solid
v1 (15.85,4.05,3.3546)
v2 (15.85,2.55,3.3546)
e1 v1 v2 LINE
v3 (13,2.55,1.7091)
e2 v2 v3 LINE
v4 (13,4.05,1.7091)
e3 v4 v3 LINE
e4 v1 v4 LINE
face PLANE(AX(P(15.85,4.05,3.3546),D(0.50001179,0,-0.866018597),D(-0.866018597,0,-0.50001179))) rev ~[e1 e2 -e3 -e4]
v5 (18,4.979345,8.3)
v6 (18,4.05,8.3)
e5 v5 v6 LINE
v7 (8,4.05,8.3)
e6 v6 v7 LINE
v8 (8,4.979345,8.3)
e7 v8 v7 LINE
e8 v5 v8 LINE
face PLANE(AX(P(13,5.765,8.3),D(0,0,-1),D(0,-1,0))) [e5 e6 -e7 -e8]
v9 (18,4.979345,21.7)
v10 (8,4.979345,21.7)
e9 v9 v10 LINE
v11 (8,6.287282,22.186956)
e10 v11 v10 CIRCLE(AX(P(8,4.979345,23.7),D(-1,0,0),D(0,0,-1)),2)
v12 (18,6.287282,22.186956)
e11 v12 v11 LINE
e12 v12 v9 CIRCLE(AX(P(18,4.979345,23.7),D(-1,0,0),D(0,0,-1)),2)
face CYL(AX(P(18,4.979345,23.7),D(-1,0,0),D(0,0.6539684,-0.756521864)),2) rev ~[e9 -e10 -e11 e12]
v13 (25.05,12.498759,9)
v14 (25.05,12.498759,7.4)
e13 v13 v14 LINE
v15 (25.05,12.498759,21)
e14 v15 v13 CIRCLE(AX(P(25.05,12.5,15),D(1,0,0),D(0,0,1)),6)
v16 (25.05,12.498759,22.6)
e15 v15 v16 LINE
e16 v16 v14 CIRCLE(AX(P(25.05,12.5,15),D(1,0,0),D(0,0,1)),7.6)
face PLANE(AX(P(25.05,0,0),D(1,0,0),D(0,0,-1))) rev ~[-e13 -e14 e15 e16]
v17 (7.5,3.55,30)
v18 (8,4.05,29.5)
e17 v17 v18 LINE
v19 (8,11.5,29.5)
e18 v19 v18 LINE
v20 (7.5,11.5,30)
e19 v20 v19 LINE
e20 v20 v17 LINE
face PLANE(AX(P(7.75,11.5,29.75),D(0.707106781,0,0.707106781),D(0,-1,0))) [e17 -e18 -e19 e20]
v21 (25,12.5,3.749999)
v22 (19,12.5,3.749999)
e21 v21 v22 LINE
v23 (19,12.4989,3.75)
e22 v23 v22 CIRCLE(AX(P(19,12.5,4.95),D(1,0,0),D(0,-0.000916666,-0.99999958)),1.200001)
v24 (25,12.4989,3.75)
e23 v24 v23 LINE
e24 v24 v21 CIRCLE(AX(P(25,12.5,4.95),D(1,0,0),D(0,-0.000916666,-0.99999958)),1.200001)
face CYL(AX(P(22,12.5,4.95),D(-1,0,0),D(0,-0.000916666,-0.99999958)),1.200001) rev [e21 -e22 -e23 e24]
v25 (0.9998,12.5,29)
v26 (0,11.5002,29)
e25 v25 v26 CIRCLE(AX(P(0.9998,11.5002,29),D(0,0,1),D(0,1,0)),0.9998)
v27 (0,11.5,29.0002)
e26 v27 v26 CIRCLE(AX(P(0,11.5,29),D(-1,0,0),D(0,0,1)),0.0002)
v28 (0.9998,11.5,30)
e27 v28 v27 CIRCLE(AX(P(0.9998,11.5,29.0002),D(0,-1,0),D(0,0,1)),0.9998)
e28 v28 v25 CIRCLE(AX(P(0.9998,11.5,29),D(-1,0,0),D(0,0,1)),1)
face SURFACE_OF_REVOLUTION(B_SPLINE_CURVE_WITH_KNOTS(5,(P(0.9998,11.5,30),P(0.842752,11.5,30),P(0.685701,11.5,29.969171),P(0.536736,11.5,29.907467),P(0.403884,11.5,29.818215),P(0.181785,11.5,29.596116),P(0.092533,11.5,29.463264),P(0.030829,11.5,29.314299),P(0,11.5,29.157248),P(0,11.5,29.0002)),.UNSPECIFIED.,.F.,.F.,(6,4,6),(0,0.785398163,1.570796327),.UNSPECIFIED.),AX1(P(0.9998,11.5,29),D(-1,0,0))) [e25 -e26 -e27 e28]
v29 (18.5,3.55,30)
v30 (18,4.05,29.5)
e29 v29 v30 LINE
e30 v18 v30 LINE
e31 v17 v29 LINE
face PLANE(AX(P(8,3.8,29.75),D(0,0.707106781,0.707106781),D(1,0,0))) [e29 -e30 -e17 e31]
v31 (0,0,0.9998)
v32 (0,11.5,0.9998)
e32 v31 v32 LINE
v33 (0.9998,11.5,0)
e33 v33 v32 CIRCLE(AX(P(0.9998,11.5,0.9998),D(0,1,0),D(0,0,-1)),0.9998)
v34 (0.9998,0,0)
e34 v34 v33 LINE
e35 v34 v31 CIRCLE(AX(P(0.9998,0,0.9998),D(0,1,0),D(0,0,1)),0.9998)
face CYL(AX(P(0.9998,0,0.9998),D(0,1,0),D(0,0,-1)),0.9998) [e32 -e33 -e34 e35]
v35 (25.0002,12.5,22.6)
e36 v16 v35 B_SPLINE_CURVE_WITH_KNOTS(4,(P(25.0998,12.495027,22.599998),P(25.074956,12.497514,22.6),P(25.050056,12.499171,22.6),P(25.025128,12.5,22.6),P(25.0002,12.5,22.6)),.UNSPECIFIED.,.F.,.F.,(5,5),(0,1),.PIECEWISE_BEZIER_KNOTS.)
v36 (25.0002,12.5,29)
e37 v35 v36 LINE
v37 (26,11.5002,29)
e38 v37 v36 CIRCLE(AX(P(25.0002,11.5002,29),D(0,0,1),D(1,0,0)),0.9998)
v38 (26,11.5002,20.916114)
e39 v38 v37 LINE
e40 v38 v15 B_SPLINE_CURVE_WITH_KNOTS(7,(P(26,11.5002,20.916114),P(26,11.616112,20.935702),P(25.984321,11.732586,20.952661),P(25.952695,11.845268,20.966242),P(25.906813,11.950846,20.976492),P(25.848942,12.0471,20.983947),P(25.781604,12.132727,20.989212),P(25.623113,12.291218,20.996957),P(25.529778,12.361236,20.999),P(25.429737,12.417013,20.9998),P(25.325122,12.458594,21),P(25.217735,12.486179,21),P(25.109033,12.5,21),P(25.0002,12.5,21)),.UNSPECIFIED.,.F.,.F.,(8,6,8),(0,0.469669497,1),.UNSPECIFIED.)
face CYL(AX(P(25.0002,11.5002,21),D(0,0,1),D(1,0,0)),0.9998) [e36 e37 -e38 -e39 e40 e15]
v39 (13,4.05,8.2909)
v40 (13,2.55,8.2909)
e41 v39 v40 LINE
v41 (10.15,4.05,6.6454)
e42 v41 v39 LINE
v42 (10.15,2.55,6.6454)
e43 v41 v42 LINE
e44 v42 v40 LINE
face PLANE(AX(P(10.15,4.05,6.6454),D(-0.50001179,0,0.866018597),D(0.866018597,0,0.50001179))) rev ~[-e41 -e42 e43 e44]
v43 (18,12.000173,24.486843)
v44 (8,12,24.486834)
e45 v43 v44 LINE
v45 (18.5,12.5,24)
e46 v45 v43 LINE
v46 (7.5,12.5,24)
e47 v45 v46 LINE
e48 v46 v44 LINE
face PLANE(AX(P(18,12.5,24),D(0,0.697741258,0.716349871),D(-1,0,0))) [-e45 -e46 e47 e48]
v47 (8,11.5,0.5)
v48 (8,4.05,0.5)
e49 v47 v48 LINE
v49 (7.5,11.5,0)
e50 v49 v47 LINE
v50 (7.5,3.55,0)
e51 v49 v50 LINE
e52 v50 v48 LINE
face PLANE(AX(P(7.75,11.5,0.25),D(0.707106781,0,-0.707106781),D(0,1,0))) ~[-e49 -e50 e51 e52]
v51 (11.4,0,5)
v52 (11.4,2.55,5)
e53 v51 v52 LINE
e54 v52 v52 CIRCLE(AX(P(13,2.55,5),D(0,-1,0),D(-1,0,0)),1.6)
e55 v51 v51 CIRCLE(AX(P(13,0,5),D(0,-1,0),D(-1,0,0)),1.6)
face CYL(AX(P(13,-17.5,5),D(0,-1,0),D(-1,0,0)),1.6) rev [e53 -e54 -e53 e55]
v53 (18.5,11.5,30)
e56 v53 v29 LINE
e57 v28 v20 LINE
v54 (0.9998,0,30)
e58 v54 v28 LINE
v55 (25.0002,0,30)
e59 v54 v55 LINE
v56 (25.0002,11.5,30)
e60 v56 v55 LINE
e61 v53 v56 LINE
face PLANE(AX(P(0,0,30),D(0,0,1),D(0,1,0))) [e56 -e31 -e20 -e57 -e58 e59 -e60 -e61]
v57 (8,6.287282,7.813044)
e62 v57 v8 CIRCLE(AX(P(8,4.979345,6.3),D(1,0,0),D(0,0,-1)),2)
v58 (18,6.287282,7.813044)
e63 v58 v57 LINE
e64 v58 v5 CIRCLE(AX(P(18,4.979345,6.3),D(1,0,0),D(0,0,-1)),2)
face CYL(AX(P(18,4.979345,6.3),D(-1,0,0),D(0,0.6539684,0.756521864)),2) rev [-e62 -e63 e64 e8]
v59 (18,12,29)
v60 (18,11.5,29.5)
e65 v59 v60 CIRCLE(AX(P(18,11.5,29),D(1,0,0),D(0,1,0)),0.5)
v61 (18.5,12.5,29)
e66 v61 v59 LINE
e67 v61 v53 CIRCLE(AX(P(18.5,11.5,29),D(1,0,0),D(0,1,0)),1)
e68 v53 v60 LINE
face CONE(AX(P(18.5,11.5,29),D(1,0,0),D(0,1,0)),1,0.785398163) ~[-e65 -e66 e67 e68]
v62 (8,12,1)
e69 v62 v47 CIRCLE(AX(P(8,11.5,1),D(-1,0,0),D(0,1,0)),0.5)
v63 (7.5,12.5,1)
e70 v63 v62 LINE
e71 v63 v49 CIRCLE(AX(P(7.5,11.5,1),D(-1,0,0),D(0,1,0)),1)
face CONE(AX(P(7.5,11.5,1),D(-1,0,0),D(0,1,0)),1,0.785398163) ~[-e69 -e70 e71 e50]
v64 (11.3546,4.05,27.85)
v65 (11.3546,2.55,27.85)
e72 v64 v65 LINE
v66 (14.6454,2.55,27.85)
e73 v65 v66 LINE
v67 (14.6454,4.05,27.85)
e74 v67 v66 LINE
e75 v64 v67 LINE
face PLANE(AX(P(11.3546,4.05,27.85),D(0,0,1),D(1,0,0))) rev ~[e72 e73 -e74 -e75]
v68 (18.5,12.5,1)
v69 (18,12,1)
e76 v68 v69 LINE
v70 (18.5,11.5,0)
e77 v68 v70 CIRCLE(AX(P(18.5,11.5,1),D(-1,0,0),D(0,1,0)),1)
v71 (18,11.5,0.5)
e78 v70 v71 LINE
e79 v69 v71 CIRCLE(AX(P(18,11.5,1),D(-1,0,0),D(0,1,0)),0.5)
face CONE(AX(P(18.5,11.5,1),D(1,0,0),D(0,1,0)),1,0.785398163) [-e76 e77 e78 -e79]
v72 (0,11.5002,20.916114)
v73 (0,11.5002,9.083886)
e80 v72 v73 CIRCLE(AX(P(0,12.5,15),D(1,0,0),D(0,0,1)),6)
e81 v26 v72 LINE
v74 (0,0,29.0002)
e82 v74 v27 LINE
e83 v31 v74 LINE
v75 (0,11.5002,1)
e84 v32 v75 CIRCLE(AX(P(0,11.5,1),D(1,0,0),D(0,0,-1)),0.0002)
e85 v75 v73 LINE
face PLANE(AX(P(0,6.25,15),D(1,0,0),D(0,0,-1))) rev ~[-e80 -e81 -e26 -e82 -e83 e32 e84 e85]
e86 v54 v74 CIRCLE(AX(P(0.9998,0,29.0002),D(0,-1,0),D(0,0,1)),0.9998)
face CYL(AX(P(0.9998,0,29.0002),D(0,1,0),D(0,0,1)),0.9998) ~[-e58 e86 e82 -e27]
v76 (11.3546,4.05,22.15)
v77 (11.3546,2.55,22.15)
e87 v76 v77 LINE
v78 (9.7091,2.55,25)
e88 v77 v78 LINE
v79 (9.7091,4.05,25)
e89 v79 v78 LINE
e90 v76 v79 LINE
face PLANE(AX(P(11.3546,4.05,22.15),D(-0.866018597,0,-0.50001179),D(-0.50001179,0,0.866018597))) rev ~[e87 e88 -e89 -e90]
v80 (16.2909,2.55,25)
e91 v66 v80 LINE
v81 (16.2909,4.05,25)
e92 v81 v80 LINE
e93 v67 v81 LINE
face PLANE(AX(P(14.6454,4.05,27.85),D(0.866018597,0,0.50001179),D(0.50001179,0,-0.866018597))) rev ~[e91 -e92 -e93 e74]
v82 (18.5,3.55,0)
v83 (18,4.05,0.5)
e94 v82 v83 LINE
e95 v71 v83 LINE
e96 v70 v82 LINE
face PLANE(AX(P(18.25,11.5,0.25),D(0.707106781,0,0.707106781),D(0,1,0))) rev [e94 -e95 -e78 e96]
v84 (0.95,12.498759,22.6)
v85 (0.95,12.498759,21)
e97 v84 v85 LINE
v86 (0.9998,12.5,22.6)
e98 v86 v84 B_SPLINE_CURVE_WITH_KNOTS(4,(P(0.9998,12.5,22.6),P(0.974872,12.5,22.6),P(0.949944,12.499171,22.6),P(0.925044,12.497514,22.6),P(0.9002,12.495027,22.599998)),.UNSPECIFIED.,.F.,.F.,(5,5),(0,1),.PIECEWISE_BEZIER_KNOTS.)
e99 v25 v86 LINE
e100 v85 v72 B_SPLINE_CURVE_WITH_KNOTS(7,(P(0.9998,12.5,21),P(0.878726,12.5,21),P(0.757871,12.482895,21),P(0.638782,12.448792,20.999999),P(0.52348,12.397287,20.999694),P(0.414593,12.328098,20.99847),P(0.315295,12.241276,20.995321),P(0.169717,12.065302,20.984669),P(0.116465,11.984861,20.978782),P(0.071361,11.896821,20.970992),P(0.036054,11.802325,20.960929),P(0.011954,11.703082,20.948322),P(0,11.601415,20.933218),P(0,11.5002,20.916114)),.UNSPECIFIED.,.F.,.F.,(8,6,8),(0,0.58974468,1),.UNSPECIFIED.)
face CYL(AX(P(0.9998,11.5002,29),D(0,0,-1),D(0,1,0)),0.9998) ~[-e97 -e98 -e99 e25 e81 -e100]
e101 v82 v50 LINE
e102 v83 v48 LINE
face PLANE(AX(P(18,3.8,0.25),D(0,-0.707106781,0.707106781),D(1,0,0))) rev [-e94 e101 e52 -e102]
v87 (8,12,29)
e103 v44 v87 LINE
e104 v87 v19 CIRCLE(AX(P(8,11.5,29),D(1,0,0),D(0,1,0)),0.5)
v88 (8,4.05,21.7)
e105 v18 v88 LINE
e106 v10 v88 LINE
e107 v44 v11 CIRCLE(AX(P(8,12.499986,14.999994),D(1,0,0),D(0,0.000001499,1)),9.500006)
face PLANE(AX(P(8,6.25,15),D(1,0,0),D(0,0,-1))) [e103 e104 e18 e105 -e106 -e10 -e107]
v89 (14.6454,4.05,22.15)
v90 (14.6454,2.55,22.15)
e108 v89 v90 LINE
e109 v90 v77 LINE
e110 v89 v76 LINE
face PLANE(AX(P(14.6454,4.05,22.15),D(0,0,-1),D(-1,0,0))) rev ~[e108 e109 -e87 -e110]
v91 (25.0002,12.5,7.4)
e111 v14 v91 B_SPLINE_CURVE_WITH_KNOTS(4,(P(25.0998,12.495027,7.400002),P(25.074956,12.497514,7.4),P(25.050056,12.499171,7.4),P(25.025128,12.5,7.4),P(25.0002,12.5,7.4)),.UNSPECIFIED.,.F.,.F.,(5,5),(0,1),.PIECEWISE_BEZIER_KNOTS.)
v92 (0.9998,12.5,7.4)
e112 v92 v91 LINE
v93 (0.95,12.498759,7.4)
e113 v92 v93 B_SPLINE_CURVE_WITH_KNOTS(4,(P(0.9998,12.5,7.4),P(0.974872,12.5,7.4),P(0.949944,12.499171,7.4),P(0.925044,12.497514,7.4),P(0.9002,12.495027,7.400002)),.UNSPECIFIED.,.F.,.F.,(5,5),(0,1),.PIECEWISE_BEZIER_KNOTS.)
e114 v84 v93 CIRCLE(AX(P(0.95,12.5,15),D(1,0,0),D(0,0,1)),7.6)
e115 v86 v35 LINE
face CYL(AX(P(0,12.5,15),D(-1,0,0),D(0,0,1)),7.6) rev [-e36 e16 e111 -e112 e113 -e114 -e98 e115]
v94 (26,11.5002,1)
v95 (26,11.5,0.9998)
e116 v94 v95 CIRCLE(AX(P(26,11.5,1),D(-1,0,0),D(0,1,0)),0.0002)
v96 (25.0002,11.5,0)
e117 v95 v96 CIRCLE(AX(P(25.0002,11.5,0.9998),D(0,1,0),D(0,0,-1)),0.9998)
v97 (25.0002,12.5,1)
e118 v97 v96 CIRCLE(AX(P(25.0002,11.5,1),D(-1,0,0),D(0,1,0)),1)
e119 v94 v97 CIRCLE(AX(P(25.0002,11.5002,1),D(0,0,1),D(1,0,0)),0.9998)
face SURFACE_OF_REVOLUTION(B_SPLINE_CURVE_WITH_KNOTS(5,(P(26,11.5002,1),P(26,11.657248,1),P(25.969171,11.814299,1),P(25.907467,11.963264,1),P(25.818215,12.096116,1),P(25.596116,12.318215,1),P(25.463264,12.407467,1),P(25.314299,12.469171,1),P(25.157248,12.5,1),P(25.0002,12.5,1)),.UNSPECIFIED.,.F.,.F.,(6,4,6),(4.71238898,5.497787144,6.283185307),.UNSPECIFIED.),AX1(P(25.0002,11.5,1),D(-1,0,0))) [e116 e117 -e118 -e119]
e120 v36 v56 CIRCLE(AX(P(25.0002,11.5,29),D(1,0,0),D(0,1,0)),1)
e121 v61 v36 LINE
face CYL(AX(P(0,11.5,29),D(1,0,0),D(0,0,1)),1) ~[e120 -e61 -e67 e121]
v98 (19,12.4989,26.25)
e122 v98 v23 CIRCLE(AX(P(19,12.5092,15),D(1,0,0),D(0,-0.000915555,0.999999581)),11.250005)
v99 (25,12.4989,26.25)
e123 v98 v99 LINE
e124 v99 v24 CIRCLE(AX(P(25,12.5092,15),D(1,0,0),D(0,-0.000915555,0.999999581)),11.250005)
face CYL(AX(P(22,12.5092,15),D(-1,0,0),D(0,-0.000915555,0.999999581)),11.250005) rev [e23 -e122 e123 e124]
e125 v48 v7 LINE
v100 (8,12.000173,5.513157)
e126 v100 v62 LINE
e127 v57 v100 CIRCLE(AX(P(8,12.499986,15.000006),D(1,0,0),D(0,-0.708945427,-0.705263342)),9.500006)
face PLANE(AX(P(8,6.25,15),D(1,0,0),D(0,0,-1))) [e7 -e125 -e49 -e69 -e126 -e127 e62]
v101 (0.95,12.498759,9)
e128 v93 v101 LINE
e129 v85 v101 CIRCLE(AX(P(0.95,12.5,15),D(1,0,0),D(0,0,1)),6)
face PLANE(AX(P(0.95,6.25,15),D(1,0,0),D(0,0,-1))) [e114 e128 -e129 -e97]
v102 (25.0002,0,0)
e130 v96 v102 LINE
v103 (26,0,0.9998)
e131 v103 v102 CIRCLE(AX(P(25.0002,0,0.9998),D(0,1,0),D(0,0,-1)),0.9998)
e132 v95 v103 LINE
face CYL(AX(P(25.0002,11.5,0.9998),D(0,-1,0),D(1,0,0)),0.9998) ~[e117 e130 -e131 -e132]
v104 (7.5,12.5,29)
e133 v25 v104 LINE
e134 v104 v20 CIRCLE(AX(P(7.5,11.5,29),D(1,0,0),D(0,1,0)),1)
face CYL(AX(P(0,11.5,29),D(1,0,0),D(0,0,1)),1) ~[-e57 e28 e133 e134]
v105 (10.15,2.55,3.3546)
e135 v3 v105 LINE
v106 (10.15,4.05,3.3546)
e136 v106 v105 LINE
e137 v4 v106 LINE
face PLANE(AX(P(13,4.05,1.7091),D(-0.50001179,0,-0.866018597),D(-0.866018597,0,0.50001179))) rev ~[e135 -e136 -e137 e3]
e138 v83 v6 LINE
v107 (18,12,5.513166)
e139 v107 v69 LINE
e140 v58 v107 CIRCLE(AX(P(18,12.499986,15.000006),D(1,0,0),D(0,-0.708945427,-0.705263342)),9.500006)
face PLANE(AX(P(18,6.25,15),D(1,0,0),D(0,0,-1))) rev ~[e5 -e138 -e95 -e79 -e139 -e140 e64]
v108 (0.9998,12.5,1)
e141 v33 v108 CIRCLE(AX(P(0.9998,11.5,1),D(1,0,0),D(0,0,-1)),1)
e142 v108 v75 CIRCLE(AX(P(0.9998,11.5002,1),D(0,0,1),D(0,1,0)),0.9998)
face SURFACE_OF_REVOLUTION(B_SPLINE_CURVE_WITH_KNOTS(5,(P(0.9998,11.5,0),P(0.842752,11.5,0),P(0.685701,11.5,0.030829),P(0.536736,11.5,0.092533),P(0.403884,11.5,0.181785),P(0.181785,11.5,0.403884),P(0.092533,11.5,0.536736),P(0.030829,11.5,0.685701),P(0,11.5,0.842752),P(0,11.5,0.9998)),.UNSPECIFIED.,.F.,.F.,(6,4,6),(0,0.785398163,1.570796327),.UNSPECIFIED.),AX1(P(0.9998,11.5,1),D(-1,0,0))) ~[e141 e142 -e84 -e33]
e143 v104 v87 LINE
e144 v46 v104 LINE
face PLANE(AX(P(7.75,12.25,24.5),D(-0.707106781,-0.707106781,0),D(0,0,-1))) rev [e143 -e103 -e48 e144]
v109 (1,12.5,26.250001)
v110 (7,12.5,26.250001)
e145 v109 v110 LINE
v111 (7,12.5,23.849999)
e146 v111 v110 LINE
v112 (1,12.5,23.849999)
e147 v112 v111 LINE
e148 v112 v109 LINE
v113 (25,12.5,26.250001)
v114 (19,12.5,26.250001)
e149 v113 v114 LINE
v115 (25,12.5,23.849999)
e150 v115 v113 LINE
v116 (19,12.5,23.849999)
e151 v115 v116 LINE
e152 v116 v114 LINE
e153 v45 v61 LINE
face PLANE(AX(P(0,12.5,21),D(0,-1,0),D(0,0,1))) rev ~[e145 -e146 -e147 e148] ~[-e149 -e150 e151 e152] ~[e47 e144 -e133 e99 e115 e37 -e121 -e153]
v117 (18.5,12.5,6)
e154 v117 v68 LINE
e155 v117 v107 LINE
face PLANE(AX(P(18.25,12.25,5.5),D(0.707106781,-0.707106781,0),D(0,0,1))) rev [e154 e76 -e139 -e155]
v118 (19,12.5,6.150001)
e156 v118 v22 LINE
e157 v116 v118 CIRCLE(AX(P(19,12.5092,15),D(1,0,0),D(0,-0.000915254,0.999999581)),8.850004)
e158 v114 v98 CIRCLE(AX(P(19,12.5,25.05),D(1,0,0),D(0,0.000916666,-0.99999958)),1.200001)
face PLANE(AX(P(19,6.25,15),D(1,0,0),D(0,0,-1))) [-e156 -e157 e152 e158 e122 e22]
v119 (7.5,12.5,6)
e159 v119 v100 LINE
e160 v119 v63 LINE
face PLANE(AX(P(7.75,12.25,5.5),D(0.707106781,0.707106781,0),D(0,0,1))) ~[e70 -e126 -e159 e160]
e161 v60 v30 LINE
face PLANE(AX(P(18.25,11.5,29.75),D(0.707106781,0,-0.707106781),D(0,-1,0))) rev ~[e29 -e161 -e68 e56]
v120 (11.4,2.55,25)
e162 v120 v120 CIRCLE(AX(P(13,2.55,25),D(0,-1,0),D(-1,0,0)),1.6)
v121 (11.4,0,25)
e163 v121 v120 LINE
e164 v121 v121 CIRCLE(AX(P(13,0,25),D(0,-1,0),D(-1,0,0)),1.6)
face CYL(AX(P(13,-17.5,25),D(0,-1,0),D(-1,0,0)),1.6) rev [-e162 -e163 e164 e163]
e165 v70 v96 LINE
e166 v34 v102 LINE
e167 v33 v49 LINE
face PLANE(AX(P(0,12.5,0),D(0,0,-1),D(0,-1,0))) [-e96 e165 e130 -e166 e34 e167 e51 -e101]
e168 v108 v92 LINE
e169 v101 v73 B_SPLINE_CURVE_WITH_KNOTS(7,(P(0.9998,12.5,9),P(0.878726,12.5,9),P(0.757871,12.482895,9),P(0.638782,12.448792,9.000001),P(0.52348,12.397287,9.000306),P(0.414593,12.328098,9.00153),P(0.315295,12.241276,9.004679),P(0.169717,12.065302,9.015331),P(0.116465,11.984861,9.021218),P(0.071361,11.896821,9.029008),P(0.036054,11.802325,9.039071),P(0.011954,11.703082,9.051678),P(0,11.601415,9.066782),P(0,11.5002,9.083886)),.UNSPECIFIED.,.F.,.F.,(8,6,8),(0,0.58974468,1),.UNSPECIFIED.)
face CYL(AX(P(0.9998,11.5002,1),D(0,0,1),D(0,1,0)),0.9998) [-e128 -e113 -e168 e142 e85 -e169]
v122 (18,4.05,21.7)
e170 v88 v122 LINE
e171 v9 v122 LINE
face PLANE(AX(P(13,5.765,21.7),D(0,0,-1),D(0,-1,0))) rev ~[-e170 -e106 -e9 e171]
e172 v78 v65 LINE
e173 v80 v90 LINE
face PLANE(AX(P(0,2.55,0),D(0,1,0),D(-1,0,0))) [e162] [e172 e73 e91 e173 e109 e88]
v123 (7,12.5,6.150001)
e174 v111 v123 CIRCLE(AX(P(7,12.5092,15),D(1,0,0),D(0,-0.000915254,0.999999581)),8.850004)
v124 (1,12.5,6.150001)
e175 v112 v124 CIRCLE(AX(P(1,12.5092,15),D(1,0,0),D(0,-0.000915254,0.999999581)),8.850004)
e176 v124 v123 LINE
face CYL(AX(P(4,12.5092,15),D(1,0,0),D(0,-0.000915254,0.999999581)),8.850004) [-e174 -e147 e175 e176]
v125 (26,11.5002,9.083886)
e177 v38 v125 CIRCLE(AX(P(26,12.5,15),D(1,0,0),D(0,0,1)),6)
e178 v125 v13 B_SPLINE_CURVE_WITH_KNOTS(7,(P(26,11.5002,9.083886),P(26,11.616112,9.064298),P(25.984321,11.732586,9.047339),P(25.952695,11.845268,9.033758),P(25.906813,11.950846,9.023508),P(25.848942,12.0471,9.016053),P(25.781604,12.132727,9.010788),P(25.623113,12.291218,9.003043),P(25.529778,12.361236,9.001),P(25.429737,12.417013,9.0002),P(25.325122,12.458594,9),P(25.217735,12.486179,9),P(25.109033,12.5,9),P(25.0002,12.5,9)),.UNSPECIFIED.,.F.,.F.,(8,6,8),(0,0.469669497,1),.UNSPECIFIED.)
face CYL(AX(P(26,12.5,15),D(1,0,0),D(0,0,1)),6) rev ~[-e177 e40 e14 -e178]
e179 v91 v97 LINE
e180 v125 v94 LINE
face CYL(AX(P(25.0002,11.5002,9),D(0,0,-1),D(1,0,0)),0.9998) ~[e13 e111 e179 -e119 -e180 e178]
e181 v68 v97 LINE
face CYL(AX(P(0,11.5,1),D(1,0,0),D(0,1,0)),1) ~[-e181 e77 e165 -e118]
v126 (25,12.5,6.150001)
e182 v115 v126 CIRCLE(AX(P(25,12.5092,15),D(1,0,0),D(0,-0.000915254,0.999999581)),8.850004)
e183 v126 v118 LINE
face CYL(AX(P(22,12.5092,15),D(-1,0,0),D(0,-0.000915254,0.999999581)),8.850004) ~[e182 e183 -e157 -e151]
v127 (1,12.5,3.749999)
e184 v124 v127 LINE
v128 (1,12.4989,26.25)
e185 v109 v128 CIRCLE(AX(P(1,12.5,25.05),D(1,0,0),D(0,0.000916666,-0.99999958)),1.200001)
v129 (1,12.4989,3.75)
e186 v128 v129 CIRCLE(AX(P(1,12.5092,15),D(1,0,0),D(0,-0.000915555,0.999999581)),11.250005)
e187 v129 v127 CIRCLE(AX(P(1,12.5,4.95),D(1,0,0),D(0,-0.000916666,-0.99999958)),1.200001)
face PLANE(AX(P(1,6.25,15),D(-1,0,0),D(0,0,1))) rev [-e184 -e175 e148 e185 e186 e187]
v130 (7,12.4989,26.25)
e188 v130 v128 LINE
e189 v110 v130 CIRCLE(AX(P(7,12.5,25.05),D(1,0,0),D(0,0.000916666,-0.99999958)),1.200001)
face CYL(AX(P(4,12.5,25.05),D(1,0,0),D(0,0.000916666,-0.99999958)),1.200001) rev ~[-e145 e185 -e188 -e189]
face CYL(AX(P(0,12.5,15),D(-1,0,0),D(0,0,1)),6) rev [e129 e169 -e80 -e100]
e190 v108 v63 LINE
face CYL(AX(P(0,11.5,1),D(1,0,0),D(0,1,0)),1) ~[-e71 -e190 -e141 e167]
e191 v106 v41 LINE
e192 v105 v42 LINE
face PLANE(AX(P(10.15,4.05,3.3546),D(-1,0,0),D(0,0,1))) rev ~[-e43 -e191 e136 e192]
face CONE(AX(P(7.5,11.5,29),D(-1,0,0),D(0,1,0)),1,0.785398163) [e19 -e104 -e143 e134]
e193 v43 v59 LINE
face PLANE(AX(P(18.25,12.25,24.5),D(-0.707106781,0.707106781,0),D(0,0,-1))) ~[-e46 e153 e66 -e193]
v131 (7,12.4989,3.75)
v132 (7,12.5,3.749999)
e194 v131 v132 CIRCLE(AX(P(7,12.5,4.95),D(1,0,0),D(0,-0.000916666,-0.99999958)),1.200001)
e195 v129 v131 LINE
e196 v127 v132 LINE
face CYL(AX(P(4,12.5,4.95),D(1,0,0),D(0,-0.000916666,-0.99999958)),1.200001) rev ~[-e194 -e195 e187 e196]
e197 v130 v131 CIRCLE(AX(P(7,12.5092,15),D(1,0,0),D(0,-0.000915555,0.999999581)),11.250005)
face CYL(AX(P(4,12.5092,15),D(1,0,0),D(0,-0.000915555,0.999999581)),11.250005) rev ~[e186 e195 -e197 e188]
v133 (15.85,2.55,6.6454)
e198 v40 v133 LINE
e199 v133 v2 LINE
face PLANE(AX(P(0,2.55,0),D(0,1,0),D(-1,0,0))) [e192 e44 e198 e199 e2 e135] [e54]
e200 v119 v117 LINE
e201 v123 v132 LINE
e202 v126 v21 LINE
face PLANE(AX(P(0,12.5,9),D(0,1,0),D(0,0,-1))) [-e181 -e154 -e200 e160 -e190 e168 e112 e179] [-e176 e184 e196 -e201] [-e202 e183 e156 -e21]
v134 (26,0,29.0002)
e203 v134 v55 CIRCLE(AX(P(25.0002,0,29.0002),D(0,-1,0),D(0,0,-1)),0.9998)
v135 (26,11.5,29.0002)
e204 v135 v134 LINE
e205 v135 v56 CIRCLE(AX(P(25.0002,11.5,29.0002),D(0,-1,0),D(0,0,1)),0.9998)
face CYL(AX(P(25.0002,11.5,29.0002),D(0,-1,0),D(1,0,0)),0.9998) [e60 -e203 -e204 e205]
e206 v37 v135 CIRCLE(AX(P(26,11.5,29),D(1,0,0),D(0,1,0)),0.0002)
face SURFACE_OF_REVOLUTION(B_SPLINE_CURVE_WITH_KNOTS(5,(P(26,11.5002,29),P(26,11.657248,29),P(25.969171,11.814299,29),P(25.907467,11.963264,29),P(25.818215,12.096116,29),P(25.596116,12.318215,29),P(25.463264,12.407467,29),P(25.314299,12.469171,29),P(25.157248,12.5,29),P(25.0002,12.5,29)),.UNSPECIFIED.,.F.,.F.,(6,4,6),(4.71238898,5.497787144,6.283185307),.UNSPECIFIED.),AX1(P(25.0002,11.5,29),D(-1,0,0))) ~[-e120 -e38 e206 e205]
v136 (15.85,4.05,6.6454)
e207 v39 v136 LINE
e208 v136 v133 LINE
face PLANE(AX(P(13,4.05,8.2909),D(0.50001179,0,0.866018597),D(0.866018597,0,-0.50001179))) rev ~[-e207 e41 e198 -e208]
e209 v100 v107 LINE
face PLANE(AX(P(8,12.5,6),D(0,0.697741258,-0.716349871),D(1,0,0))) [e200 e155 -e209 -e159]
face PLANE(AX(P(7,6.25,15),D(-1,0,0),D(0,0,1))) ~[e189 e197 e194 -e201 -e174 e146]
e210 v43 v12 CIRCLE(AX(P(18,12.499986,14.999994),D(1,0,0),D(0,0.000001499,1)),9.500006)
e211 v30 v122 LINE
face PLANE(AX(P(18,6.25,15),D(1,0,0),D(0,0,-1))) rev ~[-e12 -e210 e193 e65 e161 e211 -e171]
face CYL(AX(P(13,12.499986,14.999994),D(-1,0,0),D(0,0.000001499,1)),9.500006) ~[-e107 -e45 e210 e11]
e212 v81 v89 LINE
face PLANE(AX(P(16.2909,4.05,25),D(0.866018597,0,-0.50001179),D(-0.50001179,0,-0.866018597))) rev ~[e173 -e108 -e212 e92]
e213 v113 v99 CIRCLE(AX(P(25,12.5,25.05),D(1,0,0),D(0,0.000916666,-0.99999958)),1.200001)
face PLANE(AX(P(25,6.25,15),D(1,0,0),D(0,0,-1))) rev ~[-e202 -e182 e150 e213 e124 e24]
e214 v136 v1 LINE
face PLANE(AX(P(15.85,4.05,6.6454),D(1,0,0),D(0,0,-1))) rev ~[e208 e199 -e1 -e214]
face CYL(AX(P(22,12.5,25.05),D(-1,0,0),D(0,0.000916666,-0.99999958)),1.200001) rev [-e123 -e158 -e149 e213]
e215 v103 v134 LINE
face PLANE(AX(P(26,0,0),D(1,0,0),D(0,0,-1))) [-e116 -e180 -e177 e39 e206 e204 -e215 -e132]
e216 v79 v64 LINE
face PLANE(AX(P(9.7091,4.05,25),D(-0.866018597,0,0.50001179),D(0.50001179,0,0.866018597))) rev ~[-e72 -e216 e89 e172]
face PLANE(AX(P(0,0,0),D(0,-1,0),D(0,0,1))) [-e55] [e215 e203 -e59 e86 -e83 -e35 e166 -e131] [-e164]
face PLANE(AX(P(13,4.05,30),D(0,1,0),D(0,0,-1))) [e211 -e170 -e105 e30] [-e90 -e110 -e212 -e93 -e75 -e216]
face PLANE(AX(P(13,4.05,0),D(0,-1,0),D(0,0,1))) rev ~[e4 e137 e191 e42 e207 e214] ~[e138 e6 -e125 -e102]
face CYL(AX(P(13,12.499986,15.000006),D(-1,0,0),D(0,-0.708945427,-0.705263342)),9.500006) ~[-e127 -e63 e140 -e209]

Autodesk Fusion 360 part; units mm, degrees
sketch "Sketch1" plane through (0, 0, 0) normal (1, 0, 0) x (0, 0, -1)
  line L0 (0, 12.5) -> (0, 0)
  line L1 (0, 0) -> (-30, 0)
  line L2 (-30, 0) -> (-30, 12.5)
  arc A0 (-22.6, 12.5) -> (-7.4, 12.5) centre (-15, 12.5) ccw
  line L3 (-30, 12.5) -> (-22.6, 12.5)
  line L4 (-7.4, 12.5) -> (0, 12.5)
  dimension "d1" = 15.2
  dimension "d2" = 30
  dimension "d3" = 12.5
extrude "Extrude1" add sketch "Sketch1" along normal blind 26
sketch "Sketch2" plane through (26, 0, 0) normal (1, 0, 0) x (0, 0, -1)
  arc A0 (-22.6, 12.5) -> (-7.4, 12.5) centre (-15, 12.5) ccw
  line L0 (-22.6, 12.5) -> (-30, 12.5)
  line L1 (-30, 12.5) -> (-30, 0)
  line L2 (-30, 0) -> (0, 0)
  line L3 (0, 0) -> (0, 12.5)
  line L4 (0, 12.5) -> (-7.4, 12.5)
  line L5 (-22.6, 12.5) -> (-21, 12.5)
  line L6 (-9, 12.5) -> (-7.4, 12.5)
  arc A1 (-21, 12.5) -> (-9, 12.5) centre (-15, 12.5) ccw
  dimension "d6" = 12
extrude "Extrude2" add sketch "Sketch2" against normal blind 0.95 contours A0 L5 L6 A1
sketch "Sketch3" plane through (0, 6.25, 15) normal (1, 0, 0) x (0, 0, -1)
  line L0 (7.6, 6.25) -> (15, 6.25)
  line L1 (6, 6.25) -> (7.6, 6.25)
  line L2 (-15, 6.25) -> (-7.6, 6.25)
  line L3 (-6, 6.25) -> (-7.6, 6.25)
  arc A0 (-6, 6.25) -> (6, 6.25) centre (0, 6.25) ccw
  arc A1 (-7.6, 6.25) -> (7.6, 6.25) centre (0, 6.25) ccw
  arc A2 (-7.6, 6.25) -> (7.6, 6.25) centre (0, 6.25) ccw
  point P0 (0, 6.25)
  dimension "d9" = 12
extrude "Extrude3" add sketch "Sketch3" along normal blind 0.95
ref_plane "WorkPlane1" through (22, 6.25, 15) normal (1, 0, 0) x (0, 0, -1)
fillet "Fillet1" radius 1 1 edges at (13, 12.5, 0)
fillet "Fillet2" radius 1 1 edges at (13, 12.5, 30)
sketch "Sketch6" plane through (0, 12.5, 0) normal (0, 1, 0) x (-1, 0, 0)
  line L0 (-26, 1) -> (0, 1)
  line L1 (0, 1) -> (0, 9)
  line L2 (0, 9) -> (-0.95, 9)
  line L3 (-0.95, 9) -> (-0.95, 7.4)
  line L4 (-0.95, 7.4) -> (-25.05, 7.4)
  line L5 (-25.05, 7.4) -> (-25.05, 9)
  line L6 (-25.05, 9) -> (-26, 9)
  line L7 (-26, 9) -> (-26, 1)
  circle A0 centre (-13, 5) radius 1.6
  circle A1 centre (-13, 25) radius 1.6
  line L8 (-13, 5) -> (-13, 25) construction
  line L9 (13, 15) -> (-39, 15) construction
  dimension "d15" = 3.2
  dimension "d16" = 3.2
  dimension "d17" = 20
extrude "Extrude4" cut sketch "Sketch6" along normal blind -9 and the other way blind 30 contours A0 | A1
sketch "Sketch7" plane through (22, 6.25, 15) normal (1, 0, 0) x (0, 0, -1)
  arc A0 (-7.6, 6.25) -> (7.6, 6.25) centre (0, 6.25) ccw
  arc A1 (-7.6, 6.25) -> (7.6, 6.25) centre (0, 6.25) ccw
  line L0 (-15, 6.25) -> (-15, -6.25)
  line L1 (-15, -6.25) -> (15, -6.25)
  line L2 (15, -6.25) -> (15, 6.25)
  arc A2 (-10.05, 6.25) -> (10.05, 6.25) centre (0, 6.25) ccw
  line L3 (0, -1.35) -> (0, -3.8) construction
  line L4 (0, -3.8) -> (0, -6.25) construction
  arc A3 (-8.85, 6.2511) -> (8.85, 6.2511) centre (0, 6.2592) ccw
  arc A4 (-8.85, 6.2511) -> (-11.25, 6.2489) centre (-10.05, 6.25) ccw
  arc A5 (-11.25, 6.2489) -> (11.25, 6.2489) centre (0, 6.2592) ccw
  arc A6 (11.25, 6.2489) -> (8.85, 6.2511) centre (10.05, 6.25) ccw
  arc A7 (-10.05, 6.25) -> (10.05, 6.25) centre (0, 6.2592) ccw construction
  dimension "d22" = 1.2
extrude "Extrude5" cut sketch "Sketch7" along normal mid plane 6
ref_plane "WorkPlane2" through (13, 12.5, 15) normal (1, 0, 0) x (0, 0, 1)
mirror "Mirror1" about plane through (13, 12.5, 15) normal (1, 0, 0) of "Extrude5"
ref_plane "WorkPlane3" through (13, 6.25, 15) normal (1, 0, 0) x (0, 0, -1)
sketch "Sketch9" plane through (13, 6.25, 15) normal (1, 0, 0) x (0, 0, -1)
  arc A0 (-6, 6.25) -> (6, 6.25) centre (0, 6.25) ccw
  arc A1 (-6, 6.25) -> (6, 6.25) centre (0, 6.25) ccw
  line L0 (-15, -2) -> (-15, -2.2)
  line L1 (-15, -2.2) -> (-6.7, -2.2)
  line L2 (0, -3.25) -> (0, -2)
  line L3 (-15, 5.25) -> (-15, -6.25)
  line L4 (15, -2) -> (15, -2.2)
  line L5 (15, -2.2) -> (6.7, -2.2)
  line L6 (0, -3.25) -> (0, -2)
  line L7 (-9.5, 6.25) -> (-15, 6.25)
  line L8 (-15, 6.25) -> (-15, -2)
  line L9 (9.5, 6.25) -> (15, 6.25)
  line L10 (15, 6.25) -> (15, -2)
  line L11 (6.7, -0.485) -> (6.7, -2.2)
  line L12 (-6.7, -0.485) -> (-6.7, -2.2)
  arc A2 (-9.5, 6.25) -> (-6.7, -0.485) centre (0, 6.25) ccw
  arc A3 (6.7, -0.485) -> (9.5, 6.25) centre (0, 6.25) ccw
  dimension "d34" = 19
  dimension "d44" = 8.3
  dimension "d45" = 8.3
  dimension "d50" = 0.2
  dimension "d51" = 0.2
extrude "Extrude8" cut sketch "Sketch9" along normal mid plane 10
sketch "Sketch11" plane through (0, 4.05, 0) normal (0, 1, 0) x (-1, 0, 0)
  line L0 (-8, 8.3) -> (-18, 8.3)
  line L1 (-18, 8.3) -> (-18, 0)
  line L2 (-8, 0) -> (-8, 8.3)
  line L3 (-9.7091, 25) -> (-11.3546, 27.85)
  line L4 (-11.3546, 27.85) -> (-14.6454, 27.85)
  line L5 (-14.6454, 27.85) -> (-16.2909, 25)
  line L6 (-16.2909, 25) -> (-14.6454, 22.15)
  line L7 (-14.6454, 22.15) -> (-11.3546, 22.15)
  line L8 (-11.3546, 22.15) -> (-9.7091, 25)
  circle A0 centre (-13, 25) radius 1.6 construction
  point P0 (-13, 25)
  dimension "d38" = 2.85
extrude "Extrude9" cut sketch "Sketch11" against normal blind 1.5
sketch "Sketch12" plane through (0, 4.05, 0) normal (0, 1, 0) x (-1, 0, 0)
  line L0 (-8, 8.3) -> (-18, 8.3)
  line L1 (-18, 8.3) -> (-18, 0)
  line L2 (-18, 0) -> (-8, 0)
  line L3 (-8, 0) -> (-8, 8.3)
  line L4 (-15.85, 3.3546) -> (-13, 1.7091)
  line L5 (-13, 1.7091) -> (-10.15, 3.3546)
  line L6 (-10.15, 3.3546) -> (-10.15, 6.6454)
  line L7 (-10.15, 6.6454) -> (-13, 8.2909)
  line L8 (-13, 8.2909) -> (-15.85, 6.6454)
  line L9 (-15.85, 6.6454) -> (-15.85, 3.3546)
  point P0 (-13, 5)
  dimension "d41" = 2.85
extrude "Extrude10" cut sketch "Sketch12" against normal blind 1.5 contours L4 L5 L6 L7 L8 L9
chamfer "Chamfer1" distance 0.5 angle 45 8 edges at (18, 7.775, 0) (18, 12.2071, 0.2929) (18, 12.5, 3.25) (13, 12.5, 5.5) (8, 12.5, 3.25) (8, 12.2071, 0.2929) (8, 7.775, 0) (13, 4.05, 0)
chamfer "Chamfer2" distance 0.5 angle 45 8 edges at (8, 7.775, 30) (8, 12.2071, 29.7071) (8, 12.5, 26.75) (13, 12.5, 24.5) (18, 12.5, 26.75) (18, 12.2071, 29.7071) (18, 7.775, 30) (13, 4.05, 30)
fillet "Fillet3" radius 2 1 edges at (13, 5.765, 21.7)
fillet "Fillet4" radius 2 1 edges at (13, 5.765, 8.3)
fillet "Fillet5" radius 1 3 edges at (26, 12.5, 25) (26, 12.2071, 29.7071) (26, 5.75, 30)
fillet "Fillet6" radius 1 9 edges at (26, 5.75, 0) (26, 12.2071, 0.2929) (26, 12.5, 5) (0, 12.5, 5) (0, 12.2071, 0.2929) (0, 5.75, 0) (0, 5.75, 30) (0, 12.2071, 29.7071) (0, 12.5, 25)
ref_plane "WorkPlane4" through (13, 5.75, 15) normal (0, 0, 1) x (0, -1, 0)
equation "d7 = -wall_width"
equation "d10 = wall_width"
equation "wall_width = 0.95 mm"
equation "nut_depth = 3 mm"
